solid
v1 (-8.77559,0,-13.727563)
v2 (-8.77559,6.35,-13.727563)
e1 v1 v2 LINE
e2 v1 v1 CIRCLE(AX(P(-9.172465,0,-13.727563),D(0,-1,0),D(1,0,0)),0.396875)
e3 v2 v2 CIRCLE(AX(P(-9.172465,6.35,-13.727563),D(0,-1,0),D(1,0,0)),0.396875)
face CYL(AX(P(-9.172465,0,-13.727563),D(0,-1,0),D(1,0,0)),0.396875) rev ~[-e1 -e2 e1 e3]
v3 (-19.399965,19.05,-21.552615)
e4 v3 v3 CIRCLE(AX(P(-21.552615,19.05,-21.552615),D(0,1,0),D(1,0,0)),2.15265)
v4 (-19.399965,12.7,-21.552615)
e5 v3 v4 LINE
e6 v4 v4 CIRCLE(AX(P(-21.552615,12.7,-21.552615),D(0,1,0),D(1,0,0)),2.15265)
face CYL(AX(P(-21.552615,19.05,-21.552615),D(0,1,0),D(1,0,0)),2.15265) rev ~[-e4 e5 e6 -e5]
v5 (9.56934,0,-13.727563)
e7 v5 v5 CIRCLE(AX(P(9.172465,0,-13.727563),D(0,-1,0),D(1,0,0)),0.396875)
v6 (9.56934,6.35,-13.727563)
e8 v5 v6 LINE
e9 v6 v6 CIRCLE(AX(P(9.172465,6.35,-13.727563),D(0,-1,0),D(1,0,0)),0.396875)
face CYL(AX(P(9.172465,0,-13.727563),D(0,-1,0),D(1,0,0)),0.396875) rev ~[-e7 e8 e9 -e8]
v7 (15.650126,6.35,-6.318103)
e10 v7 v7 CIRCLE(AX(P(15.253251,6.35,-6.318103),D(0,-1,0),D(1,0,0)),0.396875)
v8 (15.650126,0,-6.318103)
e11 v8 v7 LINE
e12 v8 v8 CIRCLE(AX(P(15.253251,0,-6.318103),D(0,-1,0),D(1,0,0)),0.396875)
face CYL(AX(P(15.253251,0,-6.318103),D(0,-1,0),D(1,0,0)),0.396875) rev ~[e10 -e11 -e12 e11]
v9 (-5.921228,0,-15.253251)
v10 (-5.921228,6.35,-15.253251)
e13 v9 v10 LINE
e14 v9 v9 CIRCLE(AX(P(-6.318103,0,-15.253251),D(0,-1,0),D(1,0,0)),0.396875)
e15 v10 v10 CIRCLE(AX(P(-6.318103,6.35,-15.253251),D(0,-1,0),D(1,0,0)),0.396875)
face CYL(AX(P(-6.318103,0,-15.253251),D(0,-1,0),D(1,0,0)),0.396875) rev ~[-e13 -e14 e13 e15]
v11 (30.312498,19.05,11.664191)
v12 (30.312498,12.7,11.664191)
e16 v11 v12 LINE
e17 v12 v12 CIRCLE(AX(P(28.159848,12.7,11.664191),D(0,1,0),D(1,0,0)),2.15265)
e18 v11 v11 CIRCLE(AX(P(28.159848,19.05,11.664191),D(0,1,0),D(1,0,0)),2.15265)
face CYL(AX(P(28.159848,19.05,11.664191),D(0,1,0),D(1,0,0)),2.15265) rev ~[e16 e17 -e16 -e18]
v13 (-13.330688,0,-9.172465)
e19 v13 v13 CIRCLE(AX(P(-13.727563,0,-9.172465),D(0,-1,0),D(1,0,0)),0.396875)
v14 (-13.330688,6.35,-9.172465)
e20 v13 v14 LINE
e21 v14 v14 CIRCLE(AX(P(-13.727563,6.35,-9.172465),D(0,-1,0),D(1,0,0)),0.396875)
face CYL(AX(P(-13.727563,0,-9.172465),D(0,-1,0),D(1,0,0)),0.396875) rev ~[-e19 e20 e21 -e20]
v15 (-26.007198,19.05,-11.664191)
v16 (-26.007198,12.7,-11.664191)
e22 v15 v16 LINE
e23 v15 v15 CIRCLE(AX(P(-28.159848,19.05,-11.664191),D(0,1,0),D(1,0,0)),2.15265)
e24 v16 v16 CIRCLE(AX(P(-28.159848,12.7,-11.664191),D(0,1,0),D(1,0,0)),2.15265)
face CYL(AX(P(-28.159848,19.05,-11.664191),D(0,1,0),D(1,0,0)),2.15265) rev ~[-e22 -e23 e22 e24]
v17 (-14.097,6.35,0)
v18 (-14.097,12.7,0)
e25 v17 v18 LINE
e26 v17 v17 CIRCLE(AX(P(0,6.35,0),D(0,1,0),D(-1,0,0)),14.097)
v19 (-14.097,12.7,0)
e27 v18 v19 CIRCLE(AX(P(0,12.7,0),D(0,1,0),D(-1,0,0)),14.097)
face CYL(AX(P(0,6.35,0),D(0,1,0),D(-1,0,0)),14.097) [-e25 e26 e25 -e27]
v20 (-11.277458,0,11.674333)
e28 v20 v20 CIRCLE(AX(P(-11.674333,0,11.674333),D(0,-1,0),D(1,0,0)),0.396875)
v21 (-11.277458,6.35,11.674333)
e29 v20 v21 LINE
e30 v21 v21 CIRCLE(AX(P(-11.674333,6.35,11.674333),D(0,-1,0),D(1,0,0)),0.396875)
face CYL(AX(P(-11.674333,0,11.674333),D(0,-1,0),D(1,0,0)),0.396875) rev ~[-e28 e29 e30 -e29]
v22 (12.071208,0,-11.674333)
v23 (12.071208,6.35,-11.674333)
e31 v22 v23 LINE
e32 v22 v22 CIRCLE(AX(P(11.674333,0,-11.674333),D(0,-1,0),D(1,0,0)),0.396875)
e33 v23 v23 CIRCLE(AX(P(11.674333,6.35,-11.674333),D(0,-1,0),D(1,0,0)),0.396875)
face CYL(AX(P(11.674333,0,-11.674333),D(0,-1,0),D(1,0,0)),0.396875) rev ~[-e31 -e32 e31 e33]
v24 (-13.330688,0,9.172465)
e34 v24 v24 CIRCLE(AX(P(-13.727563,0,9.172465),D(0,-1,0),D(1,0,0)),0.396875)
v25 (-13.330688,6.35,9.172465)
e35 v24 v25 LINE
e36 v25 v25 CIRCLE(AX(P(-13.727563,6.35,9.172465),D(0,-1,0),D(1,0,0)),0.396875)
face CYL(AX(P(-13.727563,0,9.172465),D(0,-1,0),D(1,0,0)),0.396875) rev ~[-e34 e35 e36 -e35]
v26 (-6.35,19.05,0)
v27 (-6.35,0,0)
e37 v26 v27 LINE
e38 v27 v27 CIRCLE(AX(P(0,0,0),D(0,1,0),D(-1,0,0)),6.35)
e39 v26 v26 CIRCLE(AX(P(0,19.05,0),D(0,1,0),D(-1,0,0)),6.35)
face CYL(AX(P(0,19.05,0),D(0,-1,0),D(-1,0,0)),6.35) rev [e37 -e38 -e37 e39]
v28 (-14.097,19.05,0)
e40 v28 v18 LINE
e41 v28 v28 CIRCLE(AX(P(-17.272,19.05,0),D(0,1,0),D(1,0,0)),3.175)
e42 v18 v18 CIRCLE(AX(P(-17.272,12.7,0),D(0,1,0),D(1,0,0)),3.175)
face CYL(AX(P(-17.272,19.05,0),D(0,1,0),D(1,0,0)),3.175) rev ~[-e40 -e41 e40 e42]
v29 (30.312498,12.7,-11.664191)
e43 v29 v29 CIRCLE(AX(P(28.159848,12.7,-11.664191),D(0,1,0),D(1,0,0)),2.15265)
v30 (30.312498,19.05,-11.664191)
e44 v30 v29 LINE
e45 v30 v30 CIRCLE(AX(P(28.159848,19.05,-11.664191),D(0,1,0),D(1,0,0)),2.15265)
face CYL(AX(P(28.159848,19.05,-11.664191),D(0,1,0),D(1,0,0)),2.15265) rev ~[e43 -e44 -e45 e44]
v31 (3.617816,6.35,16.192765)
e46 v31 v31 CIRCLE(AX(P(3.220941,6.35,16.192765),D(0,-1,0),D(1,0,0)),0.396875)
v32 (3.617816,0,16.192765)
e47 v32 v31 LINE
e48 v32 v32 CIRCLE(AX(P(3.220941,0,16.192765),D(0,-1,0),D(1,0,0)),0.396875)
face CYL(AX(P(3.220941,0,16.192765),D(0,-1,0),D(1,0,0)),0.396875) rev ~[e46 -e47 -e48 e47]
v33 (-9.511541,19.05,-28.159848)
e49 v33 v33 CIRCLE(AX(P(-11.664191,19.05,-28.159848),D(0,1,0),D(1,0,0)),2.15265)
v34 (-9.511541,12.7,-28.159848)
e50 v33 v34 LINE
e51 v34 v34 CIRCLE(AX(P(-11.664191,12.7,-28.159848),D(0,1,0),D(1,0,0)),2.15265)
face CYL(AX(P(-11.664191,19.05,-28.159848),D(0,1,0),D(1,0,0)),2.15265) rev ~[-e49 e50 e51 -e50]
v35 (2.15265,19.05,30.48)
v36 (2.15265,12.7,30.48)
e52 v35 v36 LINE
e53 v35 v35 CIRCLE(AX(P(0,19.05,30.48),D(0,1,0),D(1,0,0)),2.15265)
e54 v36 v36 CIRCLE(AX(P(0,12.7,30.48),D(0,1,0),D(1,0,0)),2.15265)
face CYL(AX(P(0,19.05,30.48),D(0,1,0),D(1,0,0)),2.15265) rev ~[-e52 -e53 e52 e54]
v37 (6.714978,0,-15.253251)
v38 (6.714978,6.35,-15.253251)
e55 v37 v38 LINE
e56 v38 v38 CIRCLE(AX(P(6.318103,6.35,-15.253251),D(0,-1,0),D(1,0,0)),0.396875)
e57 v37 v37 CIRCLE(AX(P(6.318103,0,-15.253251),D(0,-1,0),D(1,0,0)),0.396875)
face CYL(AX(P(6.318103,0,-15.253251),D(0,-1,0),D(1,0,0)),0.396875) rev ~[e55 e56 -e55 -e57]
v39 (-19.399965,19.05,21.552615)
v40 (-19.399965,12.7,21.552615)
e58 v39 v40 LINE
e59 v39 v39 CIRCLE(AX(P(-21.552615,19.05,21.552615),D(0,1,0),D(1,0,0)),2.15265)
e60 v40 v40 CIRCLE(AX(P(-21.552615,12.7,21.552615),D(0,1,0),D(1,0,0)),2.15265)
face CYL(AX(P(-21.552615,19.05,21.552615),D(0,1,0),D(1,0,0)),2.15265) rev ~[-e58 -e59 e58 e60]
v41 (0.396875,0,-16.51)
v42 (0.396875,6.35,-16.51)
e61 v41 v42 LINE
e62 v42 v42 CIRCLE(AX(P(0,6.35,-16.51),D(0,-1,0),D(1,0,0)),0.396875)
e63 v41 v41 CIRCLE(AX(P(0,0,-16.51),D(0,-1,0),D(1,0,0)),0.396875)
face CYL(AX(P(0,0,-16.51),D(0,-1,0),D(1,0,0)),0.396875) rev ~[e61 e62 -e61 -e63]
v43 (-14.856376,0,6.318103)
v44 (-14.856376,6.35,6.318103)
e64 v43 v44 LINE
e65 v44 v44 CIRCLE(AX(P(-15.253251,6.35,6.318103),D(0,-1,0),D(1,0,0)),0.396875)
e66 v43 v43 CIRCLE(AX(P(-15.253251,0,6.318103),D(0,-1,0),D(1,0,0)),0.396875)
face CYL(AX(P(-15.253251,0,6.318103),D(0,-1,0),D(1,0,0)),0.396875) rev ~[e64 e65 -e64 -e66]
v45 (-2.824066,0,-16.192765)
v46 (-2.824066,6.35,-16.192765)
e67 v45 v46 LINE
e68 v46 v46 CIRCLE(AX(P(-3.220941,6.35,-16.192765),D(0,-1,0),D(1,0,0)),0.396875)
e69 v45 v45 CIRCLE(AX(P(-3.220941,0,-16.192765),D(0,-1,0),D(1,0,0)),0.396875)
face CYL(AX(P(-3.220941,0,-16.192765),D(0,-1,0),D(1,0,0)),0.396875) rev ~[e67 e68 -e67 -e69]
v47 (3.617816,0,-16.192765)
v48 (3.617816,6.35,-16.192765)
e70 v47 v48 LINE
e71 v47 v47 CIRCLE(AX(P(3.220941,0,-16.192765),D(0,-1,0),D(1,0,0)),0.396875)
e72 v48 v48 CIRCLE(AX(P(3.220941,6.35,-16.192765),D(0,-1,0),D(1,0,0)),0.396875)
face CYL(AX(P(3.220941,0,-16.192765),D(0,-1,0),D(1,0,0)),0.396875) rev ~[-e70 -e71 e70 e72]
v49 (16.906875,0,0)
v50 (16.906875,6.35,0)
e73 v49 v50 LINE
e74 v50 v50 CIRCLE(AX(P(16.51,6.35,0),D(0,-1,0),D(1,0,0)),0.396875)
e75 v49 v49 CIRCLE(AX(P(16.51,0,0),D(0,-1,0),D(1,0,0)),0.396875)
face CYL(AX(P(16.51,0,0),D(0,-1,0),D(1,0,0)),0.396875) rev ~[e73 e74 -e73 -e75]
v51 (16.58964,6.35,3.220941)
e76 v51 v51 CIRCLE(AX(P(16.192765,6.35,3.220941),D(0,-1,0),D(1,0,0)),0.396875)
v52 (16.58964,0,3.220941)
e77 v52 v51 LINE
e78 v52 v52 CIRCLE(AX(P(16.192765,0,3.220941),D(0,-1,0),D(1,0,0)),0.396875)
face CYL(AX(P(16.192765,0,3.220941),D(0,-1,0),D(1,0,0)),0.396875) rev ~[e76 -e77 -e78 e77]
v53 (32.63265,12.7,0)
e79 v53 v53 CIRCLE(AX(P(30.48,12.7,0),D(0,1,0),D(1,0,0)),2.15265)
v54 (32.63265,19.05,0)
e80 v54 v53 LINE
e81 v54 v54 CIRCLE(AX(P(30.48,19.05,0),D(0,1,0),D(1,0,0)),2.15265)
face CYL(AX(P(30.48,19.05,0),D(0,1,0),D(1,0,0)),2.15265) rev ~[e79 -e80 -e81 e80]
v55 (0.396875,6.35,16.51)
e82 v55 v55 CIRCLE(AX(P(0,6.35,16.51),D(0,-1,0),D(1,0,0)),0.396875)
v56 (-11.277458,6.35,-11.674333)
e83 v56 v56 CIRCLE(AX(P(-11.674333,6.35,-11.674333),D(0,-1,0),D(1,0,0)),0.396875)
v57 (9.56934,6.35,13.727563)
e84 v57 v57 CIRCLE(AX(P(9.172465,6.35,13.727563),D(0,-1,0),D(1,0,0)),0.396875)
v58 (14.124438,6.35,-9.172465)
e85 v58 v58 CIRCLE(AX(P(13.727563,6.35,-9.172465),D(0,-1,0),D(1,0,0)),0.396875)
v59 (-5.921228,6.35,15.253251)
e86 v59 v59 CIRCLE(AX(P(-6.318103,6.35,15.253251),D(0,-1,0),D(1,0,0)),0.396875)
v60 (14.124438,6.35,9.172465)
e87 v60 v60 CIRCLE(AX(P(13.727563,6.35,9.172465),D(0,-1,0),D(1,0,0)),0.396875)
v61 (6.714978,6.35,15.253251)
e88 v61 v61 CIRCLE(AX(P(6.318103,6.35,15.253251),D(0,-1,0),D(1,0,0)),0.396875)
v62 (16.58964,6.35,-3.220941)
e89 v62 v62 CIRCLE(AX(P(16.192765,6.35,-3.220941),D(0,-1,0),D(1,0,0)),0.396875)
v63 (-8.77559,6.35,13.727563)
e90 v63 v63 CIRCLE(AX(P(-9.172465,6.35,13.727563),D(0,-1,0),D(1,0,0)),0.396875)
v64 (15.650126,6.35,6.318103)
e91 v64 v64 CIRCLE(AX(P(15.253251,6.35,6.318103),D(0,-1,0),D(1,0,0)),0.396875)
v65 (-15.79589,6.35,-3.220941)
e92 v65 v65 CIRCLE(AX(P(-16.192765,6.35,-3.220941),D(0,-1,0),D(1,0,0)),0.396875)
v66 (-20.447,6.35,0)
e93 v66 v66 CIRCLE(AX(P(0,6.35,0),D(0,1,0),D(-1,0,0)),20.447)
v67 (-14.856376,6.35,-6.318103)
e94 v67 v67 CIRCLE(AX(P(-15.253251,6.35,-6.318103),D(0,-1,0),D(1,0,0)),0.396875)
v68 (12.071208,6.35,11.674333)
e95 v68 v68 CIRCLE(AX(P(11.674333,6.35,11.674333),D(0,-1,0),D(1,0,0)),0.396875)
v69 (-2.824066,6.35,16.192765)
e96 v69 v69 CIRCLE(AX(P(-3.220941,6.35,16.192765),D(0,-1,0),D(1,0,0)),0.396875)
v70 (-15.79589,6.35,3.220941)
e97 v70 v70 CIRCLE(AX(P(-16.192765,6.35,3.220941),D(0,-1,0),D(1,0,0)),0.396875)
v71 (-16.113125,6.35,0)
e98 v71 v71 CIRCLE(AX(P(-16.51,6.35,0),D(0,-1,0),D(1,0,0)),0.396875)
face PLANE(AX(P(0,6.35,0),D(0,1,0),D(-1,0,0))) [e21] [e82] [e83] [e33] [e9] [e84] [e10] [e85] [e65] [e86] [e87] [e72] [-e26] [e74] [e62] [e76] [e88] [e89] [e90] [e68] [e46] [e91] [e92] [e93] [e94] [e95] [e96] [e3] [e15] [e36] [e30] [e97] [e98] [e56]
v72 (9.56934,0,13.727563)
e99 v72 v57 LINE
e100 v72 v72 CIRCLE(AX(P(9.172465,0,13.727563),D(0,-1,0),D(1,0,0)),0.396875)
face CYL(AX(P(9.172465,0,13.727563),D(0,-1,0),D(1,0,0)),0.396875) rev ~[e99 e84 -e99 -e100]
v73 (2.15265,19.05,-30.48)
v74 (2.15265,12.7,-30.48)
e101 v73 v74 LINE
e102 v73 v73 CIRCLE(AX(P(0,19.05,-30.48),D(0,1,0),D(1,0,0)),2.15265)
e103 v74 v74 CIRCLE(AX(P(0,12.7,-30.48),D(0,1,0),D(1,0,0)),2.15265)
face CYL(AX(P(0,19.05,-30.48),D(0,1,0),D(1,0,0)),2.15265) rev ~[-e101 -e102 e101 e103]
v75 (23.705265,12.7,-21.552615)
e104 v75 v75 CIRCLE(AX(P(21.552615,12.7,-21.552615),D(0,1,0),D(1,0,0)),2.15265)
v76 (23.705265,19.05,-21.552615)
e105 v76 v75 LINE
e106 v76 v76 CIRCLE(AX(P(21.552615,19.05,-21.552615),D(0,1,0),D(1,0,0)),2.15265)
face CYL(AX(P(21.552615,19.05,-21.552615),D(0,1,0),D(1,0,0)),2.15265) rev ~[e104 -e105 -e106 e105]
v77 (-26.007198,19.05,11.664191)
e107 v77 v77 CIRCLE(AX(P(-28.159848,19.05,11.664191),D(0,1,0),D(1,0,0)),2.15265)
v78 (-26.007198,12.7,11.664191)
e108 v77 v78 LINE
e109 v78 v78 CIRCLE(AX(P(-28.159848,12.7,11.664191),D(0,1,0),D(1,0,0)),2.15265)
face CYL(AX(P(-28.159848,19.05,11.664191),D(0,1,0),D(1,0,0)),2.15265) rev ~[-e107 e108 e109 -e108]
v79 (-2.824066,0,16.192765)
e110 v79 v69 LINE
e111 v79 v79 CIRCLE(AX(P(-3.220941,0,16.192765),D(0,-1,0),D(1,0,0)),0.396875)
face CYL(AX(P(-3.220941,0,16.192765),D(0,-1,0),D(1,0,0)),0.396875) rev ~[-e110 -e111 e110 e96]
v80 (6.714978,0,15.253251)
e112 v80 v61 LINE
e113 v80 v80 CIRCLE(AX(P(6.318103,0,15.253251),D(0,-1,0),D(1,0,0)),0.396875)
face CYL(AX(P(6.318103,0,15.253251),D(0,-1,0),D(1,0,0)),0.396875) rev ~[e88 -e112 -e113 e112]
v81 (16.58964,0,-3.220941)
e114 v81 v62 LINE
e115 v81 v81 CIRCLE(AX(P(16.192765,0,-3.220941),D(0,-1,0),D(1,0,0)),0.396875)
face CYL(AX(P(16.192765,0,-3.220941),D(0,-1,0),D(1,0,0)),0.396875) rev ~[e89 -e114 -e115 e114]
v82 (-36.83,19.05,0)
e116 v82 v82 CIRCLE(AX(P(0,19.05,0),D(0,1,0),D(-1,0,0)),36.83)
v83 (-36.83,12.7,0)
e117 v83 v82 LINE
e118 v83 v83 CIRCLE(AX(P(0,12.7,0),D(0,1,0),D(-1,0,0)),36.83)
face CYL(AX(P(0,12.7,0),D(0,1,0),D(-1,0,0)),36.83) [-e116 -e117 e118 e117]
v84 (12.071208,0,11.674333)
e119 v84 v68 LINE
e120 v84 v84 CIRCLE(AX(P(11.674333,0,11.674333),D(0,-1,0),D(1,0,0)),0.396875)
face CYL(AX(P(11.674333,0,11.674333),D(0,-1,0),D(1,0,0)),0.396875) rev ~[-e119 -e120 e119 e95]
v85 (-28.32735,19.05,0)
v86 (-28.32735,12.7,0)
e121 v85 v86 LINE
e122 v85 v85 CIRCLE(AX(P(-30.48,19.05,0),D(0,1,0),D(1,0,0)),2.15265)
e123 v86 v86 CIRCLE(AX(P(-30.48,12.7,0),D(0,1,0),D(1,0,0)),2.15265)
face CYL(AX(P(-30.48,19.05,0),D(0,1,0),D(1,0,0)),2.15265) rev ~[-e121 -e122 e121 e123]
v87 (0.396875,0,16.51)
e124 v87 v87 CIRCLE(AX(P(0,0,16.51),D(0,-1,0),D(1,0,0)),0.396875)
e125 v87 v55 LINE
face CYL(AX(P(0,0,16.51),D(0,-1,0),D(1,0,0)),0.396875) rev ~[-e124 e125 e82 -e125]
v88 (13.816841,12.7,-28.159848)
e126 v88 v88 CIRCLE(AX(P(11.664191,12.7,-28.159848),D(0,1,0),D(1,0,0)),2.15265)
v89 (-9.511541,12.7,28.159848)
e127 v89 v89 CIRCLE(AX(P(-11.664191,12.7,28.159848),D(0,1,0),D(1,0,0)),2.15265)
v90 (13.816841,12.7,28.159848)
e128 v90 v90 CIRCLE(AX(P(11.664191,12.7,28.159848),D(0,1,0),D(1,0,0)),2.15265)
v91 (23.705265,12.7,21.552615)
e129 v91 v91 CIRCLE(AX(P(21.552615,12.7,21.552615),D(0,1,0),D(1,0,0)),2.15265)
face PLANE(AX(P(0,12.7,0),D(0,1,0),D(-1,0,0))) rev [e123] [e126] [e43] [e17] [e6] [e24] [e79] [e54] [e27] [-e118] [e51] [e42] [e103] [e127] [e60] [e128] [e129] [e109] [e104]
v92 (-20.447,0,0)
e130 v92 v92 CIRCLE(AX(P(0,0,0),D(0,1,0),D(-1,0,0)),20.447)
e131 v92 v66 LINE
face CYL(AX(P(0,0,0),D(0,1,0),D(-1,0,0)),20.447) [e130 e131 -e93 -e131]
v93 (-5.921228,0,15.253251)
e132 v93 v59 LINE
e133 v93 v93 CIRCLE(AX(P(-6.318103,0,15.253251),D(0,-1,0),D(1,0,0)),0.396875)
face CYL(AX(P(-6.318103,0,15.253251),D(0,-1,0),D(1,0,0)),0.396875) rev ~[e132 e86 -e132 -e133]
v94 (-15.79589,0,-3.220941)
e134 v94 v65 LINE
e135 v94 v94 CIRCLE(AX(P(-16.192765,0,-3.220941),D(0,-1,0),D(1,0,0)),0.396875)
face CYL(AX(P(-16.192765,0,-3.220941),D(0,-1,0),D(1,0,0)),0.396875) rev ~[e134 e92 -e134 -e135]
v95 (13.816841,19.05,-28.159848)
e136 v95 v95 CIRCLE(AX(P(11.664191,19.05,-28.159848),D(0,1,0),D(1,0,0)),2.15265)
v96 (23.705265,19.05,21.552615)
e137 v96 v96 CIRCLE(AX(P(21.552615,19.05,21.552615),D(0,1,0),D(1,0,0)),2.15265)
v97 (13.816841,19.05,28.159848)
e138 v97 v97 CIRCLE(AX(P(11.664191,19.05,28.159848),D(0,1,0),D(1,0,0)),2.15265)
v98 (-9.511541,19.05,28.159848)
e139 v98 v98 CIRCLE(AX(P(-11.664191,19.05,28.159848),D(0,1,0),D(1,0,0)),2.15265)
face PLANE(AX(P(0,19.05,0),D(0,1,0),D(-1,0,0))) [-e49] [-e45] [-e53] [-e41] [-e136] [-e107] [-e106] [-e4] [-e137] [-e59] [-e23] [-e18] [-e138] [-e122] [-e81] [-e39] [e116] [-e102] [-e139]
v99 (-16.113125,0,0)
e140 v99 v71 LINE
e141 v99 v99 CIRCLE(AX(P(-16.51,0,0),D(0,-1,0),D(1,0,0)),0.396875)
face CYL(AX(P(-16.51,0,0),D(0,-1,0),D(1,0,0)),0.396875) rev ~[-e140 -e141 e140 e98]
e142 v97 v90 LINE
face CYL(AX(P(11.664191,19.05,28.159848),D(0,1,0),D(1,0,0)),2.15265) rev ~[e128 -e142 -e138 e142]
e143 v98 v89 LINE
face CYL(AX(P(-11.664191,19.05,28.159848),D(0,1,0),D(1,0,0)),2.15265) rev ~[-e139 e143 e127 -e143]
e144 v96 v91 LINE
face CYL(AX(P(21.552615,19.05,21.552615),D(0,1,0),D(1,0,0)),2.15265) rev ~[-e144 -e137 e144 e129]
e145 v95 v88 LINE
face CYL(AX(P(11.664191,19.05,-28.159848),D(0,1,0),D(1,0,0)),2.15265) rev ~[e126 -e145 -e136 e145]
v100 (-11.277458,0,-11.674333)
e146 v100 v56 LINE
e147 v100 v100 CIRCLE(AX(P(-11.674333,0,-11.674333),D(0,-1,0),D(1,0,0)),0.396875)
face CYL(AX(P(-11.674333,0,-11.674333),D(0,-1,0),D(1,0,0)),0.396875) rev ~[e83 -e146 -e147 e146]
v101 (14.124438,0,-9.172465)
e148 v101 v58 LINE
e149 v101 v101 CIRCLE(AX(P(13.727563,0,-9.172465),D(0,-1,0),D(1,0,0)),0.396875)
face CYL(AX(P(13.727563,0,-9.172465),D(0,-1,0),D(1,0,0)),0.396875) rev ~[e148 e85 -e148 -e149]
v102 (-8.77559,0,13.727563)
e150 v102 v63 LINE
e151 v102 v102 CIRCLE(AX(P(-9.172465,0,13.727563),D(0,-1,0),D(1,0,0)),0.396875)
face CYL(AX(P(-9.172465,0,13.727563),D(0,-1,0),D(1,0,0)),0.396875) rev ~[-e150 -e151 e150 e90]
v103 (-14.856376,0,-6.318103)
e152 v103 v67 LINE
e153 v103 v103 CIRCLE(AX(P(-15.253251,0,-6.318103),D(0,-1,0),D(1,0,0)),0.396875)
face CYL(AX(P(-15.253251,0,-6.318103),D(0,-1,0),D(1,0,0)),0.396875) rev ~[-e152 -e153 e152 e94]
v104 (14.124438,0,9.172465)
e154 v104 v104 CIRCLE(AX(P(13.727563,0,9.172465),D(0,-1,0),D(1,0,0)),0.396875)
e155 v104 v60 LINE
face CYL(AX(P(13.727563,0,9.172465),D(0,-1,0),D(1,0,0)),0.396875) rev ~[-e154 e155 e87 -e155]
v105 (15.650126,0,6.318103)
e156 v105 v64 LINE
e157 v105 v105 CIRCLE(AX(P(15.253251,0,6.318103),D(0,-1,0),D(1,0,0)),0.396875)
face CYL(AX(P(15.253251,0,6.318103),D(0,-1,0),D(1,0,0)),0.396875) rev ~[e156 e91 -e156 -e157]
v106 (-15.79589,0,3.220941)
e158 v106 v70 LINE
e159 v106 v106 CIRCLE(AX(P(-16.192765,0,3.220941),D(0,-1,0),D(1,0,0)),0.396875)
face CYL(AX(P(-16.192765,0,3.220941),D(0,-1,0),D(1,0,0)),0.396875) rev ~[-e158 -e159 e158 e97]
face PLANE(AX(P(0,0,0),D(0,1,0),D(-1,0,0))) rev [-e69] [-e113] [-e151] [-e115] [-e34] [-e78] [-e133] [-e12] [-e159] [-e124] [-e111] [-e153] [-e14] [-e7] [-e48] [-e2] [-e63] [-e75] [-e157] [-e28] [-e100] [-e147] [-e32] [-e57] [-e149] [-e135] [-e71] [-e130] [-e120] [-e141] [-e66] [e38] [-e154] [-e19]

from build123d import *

# Parameters (mm, degrees)
CUT_EXTRUDE1_REACH = 21.05
SKETCH2_R          = 2.15265
SKETCH2_R_2        = 3.175
SKETCH3_R          = 0.396875
CUT_EXTRUDE2_DEPTH = 6.35


with BuildPart() as part:
    # Sketch1 → Revolve1 (revolve)
    with BuildSketch(Plane.XY):
        Polygon((-36.83, 19.05), (-6.35, 19.05), (-6.35, 0), (-20.447, 0), (-20.447, 6.35), (-14.097, 6.35), (-14.097, 12.7), (-36.83, 12.7), align=None)
    revolve(axis=Axis((0, 0, 0), (0, 1, 0)))

    # Sketch2 → Cut-Extrude1 (cut, up to next)
    with BuildSketch(Plane(origin=(0, 19.05, 0), x_dir=(1, 0, 0), z_dir=(0, 1, 0)), mode=Mode.PRIVATE) as cut_extrude1_sk1:
        with Locations((0, 30.48)):
            Circle(SKETCH2_R)
    cut_extrude1_tool1 = extrude(cut_extrude1_sk1.sketch, amount=-CUT_EXTRUDE1_REACH, mode=Mode.PRIVATE) & part.part
    add(cut_extrude1_tool1.solids().sort_by_distance((0, 19.05, -30.48))[0], mode=Mode.SUBTRACT)
    # Sketch2 → Cut-Extrude1 (cut, up to next)
    with BuildSketch(Plane(origin=(0, 19.05, 0), x_dir=(1, 0, 0), z_dir=(0, 1, 0)), mode=Mode.PRIVATE) as cut_extrude1_sk2:
        with Locations((11.664191018, 28.159848151)):
            Circle(SKETCH2_R)
    cut_extrude1_tool2 = extrude(cut_extrude1_sk2.sketch, amount=-CUT_EXTRUDE1_REACH, mode=Mode.PRIVATE) & part.part
    add(cut_extrude1_tool2.solids().sort_by_distance((11.664191, 19.05, -28.159848))[0], mode=Mode.SUBTRACT)
    # Sketch2 → Cut-Extrude1 (cut, up to next)
    with BuildSketch(Plane(origin=(0, 19.05, 0), x_dir=(1, 0, 0), z_dir=(0, 1, 0)), mode=Mode.PRIVATE) as cut_extrude1_sk3:
        with Locations((21.552614691, 21.552614691)):
            Circle(SKETCH2_R)
    cut_extrude1_tool3 = extrude(cut_extrude1_sk3.sketch, amount=-CUT_EXTRUDE1_REACH, mode=Mode.PRIVATE) & part.part
    add(cut_extrude1_tool3.solids().sort_by_distance((21.552615, 19.05, -21.552615))[0], mode=Mode.SUBTRACT)
    # Sketch2 → Cut-Extrude1 (cut, up to next)
    with BuildSketch(Plane(origin=(0, 19.05, 0), x_dir=(1, 0, 0), z_dir=(0, 1, 0)), mode=Mode.PRIVATE) as cut_extrude1_sk4:
        with Locations((28.159848151, 11.664191018)):
            Circle(SKETCH2_R)
    cut_extrude1_tool4 = extrude(cut_extrude1_sk4.sketch, amount=-CUT_EXTRUDE1_REACH, mode=Mode.PRIVATE) & part.part
    add(cut_extrude1_tool4.solids().sort_by_distance((28.159848, 19.05, -11.664191))[0], mode=Mode.SUBTRACT)
    # Sketch2 → Cut-Extrude1 (cut, up to next)
    with BuildSketch(Plane(origin=(0, 19.05, 0), x_dir=(1, 0, 0), z_dir=(0, 1, 0)), mode=Mode.PRIVATE) as cut_extrude1_sk5:
        with Locations((30.48, 0)):
            Circle(SKETCH2_R)
    cut_extrude1_tool5 = extrude(cut_extrude1_sk5.sketch, amount=-CUT_EXTRUDE1_REACH, mode=Mode.PRIVATE) & part.part
    add(cut_extrude1_tool5.solids().sort_by_distance((30.48, 19.05, 0))[0], mode=Mode.SUBTRACT)
    # Sketch2 → Cut-Extrude1 (cut, up to next)
    with BuildSketch(Plane(origin=(0, 19.05, 0), x_dir=(1, 0, 0), z_dir=(0, 1, 0)), mode=Mode.PRIVATE) as cut_extrude1_sk6:
        with Locations((28.159848151, -11.664191018)):
            Circle(SKETCH2_R)
    cut_extrude1_tool6 = extrude(cut_extrude1_sk6.sketch, amount=-CUT_EXTRUDE1_REACH, mode=Mode.PRIVATE) & part.part
    add(cut_extrude1_tool6.solids().sort_by_distance((28.159848, 19.05, 11.664191))[0], mode=Mode.SUBTRACT)
    # Sketch2 → Cut-Extrude1 (cut, up to next)
    with BuildSketch(Plane(origin=(0, 19.05, 0), x_dir=(1, 0, 0), z_dir=(0, 1, 0)), mode=Mode.PRIVATE) as cut_extrude1_sk7:
        with Locations((21.552614691, -21.552614691)):
            Circle(SKETCH2_R)
    cut_extrude1_tool7 = extrude(cut_extrude1_sk7.sketch, amount=-CUT_EXTRUDE1_REACH, mode=Mode.PRIVATE) & part.part
    add(cut_extrude1_tool7.solids().sort_by_distance((21.552615, 19.05, 21.552615))[0], mode=Mode.SUBTRACT)
    # Sketch2 → Cut-Extrude1 (cut, up to next)
    with BuildSketch(Plane(origin=(0, 19.05, 0), x_dir=(1, 0, 0), z_dir=(0, 1, 0)), mode=Mode.PRIVATE) as cut_extrude1_sk8:
        with Locations((11.664191019, -28.159848151)):
            Circle(SKETCH2_R)
    cut_extrude1_tool8 = extrude(cut_extrude1_sk8.sketch, amount=-CUT_EXTRUDE1_REACH, mode=Mode.PRIVATE) & part.part
    add(cut_extrude1_tool8.solids().sort_by_distance((11.664191, 19.05, 28.159848))[0], mode=Mode.SUBTRACT)
    # Sketch2 → Cut-Extrude1 (cut, up to next)
    with BuildSketch(Plane(origin=(0, 19.05, 0), x_dir=(1, 0, 0), z_dir=(0, 1, 0)), mode=Mode.PRIVATE) as cut_extrude1_sk9:
        with Locations((0, -30.48)):
            Circle(SKETCH2_R)
    cut_extrude1_tool9 = extrude(cut_extrude1_sk9.sketch, amount=-CUT_EXTRUDE1_REACH, mode=Mode.PRIVATE) & part.part
    add(cut_extrude1_tool9.solids().sort_by_distance((0, 19.05, 30.48))[0], mode=Mode.SUBTRACT)
    # Sketch2 → Cut-Extrude1 (cut, up to next)
    with BuildSketch(Plane(origin=(0, 19.05, 0), x_dir=(1, 0, 0), z_dir=(0, 1, 0)), mode=Mode.PRIVATE) as cut_extrude1_sk10:
        with Locations((-11.664191018, -28.159848151)):
            Circle(SKETCH2_R)
    cut_extrude1_tool10 = extrude(cut_extrude1_sk10.sketch, amount=-CUT_EXTRUDE1_REACH, mode=Mode.PRIVATE) & part.part
    add(cut_extrude1_tool10.solids().sort_by_distance((-11.664191, 19.05, 28.159848))[0], mode=Mode.SUBTRACT)
    # Sketch2 → Cut-Extrude1 (cut, up to next)
    with BuildSketch(Plane(origin=(0, 19.05, 0), x_dir=(1, 0, 0), z_dir=(0, 1, 0)), mode=Mode.PRIVATE) as cut_extrude1_sk11:
        with Locations((-21.552614691, -21.552614691)):
            Circle(SKETCH2_R)
    cut_extrude1_tool11 = extrude(cut_extrude1_sk11.sketch, amount=-CUT_EXTRUDE1_REACH, mode=Mode.PRIVATE) & part.part
    add(cut_extrude1_tool11.solids().sort_by_distance((-21.552615, 19.05, 21.552615))[0], mode=Mode.SUBTRACT)
    # Sketch2 → Cut-Extrude1 (cut, up to next)
    with BuildSketch(Plane(origin=(0, 19.05, 0), x_dir=(1, 0, 0), z_dir=(0, 1, 0)), mode=Mode.PRIVATE) as cut_extrude1_sk12:
        with Locations((-28.159848151, -11.664191018)):
            Circle(SKETCH2_R)
    cut_extrude1_tool12 = extrude(cut_extrude1_sk12.sketch, amount=-CUT_EXTRUDE1_REACH, mode=Mode.PRIVATE) & part.part
    add(cut_extrude1_tool12.solids().sort_by_distance((-28.159848, 19.05, 11.664191))[0], mode=Mode.SUBTRACT)
    # Sketch2 → Cut-Extrude1 (cut, up to next)
    with BuildSketch(Plane(origin=(0, 19.05, 0), x_dir=(1, 0, 0), z_dir=(0, 1, 0)), mode=Mode.PRIVATE) as cut_extrude1_sk13:
        with Locations((-30.48, 0)):
            Circle(SKETCH2_R)
    cut_extrude1_tool13 = extrude(cut_extrude1_sk13.sketch, amount=-CUT_EXTRUDE1_REACH, mode=Mode.PRIVATE) & part.part
    add(cut_extrude1_tool13.solids().sort_by_distance((-30.48, 19.05, 0))[0], mode=Mode.SUBTRACT)
    # Sketch2 → Cut-Extrude1 (cut, up to next)
    with BuildSketch(Plane(origin=(0, 19.05, 0), x_dir=(1, 0, 0), z_dir=(0, 1, 0)), mode=Mode.PRIVATE) as cut_extrude1_sk14:
        with Locations((-28.159848151, 11.664191018)):
            Circle(SKETCH2_R)
    cut_extrude1_tool14 = extrude(cut_extrude1_sk14.sketch, amount=-CUT_EXTRUDE1_REACH, mode=Mode.PRIVATE) & part.part
    add(cut_extrude1_tool14.solids().sort_by_distance((-28.159848, 19.05, -11.664191))[0], mode=Mode.SUBTRACT)
    # Sketch2 → Cut-Extrude1 (cut, up to next)
    with BuildSketch(Plane(origin=(0, 19.05, 0), x_dir=(1, 0, 0), z_dir=(0, 1, 0)), mode=Mode.PRIVATE) as cut_extrude1_sk15:
        with Locations((-21.552614691, 21.552614691)):
            Circle(SKETCH2_R)
    cut_extrude1_tool15 = extrude(cut_extrude1_sk15.sketch, amount=-CUT_EXTRUDE1_REACH, mode=Mode.PRIVATE) & part.part
    add(cut_extrude1_tool15.solids().sort_by_distance((-21.552615, 19.05, -21.552615))[0], mode=Mode.SUBTRACT)
    # Sketch2 → Cut-Extrude1 (cut, up to next)
    with BuildSketch(Plane(origin=(0, 19.05, 0), x_dir=(1, 0, 0), z_dir=(0, 1, 0)), mode=Mode.PRIVATE) as cut_extrude1_sk16:
        with Locations((-11.664191018, 28.159848151)):
            Circle(SKETCH2_R)
    cut_extrude1_tool16 = extrude(cut_extrude1_sk16.sketch, amount=-CUT_EXTRUDE1_REACH, mode=Mode.PRIVATE) & part.part
    add(cut_extrude1_tool16.solids().sort_by_distance((-11.664191, 19.05, -28.159848))[0], mode=Mode.SUBTRACT)
    # Sketch2 → Cut-Extrude1 (cut, up to next)
    with BuildSketch(Plane(origin=(0, 19.05, 0), x_dir=(1, 0, 0), z_dir=(0, 1, 0)), mode=Mode.PRIVATE) as cut_extrude1_sk17:
        with Locations((-17.272, 0)):
            Circle(SKETCH2_R_2)
    cut_extrude1_tool17 = extrude(cut_extrude1_sk17.sketch, amount=-CUT_EXTRUDE1_REACH, mode=Mode.PRIVATE) & part.part
    add(cut_extrude1_tool17.solids().sort_by_distance((-17.272, 19.05, 0))[0], mode=Mode.SUBTRACT)

    # Sketch3 → Cut-Extrude2 (cut)
    with BuildSketch(Plane.XZ):
        with Locations((0, 16.51)):
            Circle(SKETCH3_R)
        with Locations((3.220941216, 16.192764979)):
            Circle(SKETCH3_R)
        with Locations((6.318103468, 15.253251082)):
            Circle(SKETCH3_R)
        with Locations((9.172464547, 13.727563299)):
            Circle(SKETCH3_R)
        with Locations((11.674332957, 11.674332957)):
            Circle(SKETCH3_R)
        with Locations((13.727563299, 9.172464547)):
            Circle(SKETCH3_R)
        with Locations((15.253251082, 6.318103468)):
            Circle(SKETCH3_R)
        with Locations((16.192764979, 3.220941216)):
            Circle(SKETCH3_R)
        with Locations((16.51, 0)):
            Circle(SKETCH3_R)
        with Locations((16.192764979, -3.220941216)):
            Circle(SKETCH3_R)
        with Locations((15.253251082, -6.318103468)):
            Circle(SKETCH3_R)
        with Locations((13.727563299, -9.172464547)):
            Circle(SKETCH3_R)
        with Locations((11.674332957, -11.674332957)):
            Circle(SKETCH3_R)
        with Locations((9.172464547, -13.727563299)):
            Circle(SKETCH3_R)
        with Locations((6.318103468, -15.253251082)):
            Circle(SKETCH3_R)
        with Locations((3.220941217, -16.192764979)):
            Circle(SKETCH3_R)
        with Locations((0, -16.51)):
            Circle(SKETCH3_R)
        with Locations((-3.220941216, -16.192764979)):
            Circle(SKETCH3_R)
        with Locations((-6.318103468, -15.253251082)):
            Circle(SKETCH3_R)
        with Locations((-9.172464547, -13.727563299)):
            Circle(SKETCH3_R)
        with Locations((-11.674332957, -11.674332957)):
            Circle(SKETCH3_R)
        with Locations((-13.727563299, -9.172464547)):
            Circle(SKETCH3_R)
        with Locations((-15.253251082, -6.318103468)):
            Circle(SKETCH3_R)
        with Locations((-16.192764979, -3.220941216)):
            Circle(SKETCH3_R)
        with Locations((-16.51, 0)):
            Circle(SKETCH3_R)
        with Locations((-16.192764979, 3.220941216)):
            Circle(SKETCH3_R)
        with Locations((-15.253251082, 6.318103468)):
            Circle(SKETCH3_R)
        with Locations((-13.727563299, 9.172464547)):
            Circle(SKETCH3_R)
        with Locations((-11.674332957, 11.674332957)):
            Circle(SKETCH3_R)
        with Locations((-9.172464547, 13.727563299)):
            Circle(SKETCH3_R)
        with Locations((-6.318103468, 15.253251082)):
            Circle(SKETCH3_R)
        with Locations((-3.220941216, 16.192764979)):
            Circle(SKETCH3_R)
    extrude(amount=-CUT_EXTRUDE2_DEPTH, mode=Mode.SUBTRACT)


solid = part.part
